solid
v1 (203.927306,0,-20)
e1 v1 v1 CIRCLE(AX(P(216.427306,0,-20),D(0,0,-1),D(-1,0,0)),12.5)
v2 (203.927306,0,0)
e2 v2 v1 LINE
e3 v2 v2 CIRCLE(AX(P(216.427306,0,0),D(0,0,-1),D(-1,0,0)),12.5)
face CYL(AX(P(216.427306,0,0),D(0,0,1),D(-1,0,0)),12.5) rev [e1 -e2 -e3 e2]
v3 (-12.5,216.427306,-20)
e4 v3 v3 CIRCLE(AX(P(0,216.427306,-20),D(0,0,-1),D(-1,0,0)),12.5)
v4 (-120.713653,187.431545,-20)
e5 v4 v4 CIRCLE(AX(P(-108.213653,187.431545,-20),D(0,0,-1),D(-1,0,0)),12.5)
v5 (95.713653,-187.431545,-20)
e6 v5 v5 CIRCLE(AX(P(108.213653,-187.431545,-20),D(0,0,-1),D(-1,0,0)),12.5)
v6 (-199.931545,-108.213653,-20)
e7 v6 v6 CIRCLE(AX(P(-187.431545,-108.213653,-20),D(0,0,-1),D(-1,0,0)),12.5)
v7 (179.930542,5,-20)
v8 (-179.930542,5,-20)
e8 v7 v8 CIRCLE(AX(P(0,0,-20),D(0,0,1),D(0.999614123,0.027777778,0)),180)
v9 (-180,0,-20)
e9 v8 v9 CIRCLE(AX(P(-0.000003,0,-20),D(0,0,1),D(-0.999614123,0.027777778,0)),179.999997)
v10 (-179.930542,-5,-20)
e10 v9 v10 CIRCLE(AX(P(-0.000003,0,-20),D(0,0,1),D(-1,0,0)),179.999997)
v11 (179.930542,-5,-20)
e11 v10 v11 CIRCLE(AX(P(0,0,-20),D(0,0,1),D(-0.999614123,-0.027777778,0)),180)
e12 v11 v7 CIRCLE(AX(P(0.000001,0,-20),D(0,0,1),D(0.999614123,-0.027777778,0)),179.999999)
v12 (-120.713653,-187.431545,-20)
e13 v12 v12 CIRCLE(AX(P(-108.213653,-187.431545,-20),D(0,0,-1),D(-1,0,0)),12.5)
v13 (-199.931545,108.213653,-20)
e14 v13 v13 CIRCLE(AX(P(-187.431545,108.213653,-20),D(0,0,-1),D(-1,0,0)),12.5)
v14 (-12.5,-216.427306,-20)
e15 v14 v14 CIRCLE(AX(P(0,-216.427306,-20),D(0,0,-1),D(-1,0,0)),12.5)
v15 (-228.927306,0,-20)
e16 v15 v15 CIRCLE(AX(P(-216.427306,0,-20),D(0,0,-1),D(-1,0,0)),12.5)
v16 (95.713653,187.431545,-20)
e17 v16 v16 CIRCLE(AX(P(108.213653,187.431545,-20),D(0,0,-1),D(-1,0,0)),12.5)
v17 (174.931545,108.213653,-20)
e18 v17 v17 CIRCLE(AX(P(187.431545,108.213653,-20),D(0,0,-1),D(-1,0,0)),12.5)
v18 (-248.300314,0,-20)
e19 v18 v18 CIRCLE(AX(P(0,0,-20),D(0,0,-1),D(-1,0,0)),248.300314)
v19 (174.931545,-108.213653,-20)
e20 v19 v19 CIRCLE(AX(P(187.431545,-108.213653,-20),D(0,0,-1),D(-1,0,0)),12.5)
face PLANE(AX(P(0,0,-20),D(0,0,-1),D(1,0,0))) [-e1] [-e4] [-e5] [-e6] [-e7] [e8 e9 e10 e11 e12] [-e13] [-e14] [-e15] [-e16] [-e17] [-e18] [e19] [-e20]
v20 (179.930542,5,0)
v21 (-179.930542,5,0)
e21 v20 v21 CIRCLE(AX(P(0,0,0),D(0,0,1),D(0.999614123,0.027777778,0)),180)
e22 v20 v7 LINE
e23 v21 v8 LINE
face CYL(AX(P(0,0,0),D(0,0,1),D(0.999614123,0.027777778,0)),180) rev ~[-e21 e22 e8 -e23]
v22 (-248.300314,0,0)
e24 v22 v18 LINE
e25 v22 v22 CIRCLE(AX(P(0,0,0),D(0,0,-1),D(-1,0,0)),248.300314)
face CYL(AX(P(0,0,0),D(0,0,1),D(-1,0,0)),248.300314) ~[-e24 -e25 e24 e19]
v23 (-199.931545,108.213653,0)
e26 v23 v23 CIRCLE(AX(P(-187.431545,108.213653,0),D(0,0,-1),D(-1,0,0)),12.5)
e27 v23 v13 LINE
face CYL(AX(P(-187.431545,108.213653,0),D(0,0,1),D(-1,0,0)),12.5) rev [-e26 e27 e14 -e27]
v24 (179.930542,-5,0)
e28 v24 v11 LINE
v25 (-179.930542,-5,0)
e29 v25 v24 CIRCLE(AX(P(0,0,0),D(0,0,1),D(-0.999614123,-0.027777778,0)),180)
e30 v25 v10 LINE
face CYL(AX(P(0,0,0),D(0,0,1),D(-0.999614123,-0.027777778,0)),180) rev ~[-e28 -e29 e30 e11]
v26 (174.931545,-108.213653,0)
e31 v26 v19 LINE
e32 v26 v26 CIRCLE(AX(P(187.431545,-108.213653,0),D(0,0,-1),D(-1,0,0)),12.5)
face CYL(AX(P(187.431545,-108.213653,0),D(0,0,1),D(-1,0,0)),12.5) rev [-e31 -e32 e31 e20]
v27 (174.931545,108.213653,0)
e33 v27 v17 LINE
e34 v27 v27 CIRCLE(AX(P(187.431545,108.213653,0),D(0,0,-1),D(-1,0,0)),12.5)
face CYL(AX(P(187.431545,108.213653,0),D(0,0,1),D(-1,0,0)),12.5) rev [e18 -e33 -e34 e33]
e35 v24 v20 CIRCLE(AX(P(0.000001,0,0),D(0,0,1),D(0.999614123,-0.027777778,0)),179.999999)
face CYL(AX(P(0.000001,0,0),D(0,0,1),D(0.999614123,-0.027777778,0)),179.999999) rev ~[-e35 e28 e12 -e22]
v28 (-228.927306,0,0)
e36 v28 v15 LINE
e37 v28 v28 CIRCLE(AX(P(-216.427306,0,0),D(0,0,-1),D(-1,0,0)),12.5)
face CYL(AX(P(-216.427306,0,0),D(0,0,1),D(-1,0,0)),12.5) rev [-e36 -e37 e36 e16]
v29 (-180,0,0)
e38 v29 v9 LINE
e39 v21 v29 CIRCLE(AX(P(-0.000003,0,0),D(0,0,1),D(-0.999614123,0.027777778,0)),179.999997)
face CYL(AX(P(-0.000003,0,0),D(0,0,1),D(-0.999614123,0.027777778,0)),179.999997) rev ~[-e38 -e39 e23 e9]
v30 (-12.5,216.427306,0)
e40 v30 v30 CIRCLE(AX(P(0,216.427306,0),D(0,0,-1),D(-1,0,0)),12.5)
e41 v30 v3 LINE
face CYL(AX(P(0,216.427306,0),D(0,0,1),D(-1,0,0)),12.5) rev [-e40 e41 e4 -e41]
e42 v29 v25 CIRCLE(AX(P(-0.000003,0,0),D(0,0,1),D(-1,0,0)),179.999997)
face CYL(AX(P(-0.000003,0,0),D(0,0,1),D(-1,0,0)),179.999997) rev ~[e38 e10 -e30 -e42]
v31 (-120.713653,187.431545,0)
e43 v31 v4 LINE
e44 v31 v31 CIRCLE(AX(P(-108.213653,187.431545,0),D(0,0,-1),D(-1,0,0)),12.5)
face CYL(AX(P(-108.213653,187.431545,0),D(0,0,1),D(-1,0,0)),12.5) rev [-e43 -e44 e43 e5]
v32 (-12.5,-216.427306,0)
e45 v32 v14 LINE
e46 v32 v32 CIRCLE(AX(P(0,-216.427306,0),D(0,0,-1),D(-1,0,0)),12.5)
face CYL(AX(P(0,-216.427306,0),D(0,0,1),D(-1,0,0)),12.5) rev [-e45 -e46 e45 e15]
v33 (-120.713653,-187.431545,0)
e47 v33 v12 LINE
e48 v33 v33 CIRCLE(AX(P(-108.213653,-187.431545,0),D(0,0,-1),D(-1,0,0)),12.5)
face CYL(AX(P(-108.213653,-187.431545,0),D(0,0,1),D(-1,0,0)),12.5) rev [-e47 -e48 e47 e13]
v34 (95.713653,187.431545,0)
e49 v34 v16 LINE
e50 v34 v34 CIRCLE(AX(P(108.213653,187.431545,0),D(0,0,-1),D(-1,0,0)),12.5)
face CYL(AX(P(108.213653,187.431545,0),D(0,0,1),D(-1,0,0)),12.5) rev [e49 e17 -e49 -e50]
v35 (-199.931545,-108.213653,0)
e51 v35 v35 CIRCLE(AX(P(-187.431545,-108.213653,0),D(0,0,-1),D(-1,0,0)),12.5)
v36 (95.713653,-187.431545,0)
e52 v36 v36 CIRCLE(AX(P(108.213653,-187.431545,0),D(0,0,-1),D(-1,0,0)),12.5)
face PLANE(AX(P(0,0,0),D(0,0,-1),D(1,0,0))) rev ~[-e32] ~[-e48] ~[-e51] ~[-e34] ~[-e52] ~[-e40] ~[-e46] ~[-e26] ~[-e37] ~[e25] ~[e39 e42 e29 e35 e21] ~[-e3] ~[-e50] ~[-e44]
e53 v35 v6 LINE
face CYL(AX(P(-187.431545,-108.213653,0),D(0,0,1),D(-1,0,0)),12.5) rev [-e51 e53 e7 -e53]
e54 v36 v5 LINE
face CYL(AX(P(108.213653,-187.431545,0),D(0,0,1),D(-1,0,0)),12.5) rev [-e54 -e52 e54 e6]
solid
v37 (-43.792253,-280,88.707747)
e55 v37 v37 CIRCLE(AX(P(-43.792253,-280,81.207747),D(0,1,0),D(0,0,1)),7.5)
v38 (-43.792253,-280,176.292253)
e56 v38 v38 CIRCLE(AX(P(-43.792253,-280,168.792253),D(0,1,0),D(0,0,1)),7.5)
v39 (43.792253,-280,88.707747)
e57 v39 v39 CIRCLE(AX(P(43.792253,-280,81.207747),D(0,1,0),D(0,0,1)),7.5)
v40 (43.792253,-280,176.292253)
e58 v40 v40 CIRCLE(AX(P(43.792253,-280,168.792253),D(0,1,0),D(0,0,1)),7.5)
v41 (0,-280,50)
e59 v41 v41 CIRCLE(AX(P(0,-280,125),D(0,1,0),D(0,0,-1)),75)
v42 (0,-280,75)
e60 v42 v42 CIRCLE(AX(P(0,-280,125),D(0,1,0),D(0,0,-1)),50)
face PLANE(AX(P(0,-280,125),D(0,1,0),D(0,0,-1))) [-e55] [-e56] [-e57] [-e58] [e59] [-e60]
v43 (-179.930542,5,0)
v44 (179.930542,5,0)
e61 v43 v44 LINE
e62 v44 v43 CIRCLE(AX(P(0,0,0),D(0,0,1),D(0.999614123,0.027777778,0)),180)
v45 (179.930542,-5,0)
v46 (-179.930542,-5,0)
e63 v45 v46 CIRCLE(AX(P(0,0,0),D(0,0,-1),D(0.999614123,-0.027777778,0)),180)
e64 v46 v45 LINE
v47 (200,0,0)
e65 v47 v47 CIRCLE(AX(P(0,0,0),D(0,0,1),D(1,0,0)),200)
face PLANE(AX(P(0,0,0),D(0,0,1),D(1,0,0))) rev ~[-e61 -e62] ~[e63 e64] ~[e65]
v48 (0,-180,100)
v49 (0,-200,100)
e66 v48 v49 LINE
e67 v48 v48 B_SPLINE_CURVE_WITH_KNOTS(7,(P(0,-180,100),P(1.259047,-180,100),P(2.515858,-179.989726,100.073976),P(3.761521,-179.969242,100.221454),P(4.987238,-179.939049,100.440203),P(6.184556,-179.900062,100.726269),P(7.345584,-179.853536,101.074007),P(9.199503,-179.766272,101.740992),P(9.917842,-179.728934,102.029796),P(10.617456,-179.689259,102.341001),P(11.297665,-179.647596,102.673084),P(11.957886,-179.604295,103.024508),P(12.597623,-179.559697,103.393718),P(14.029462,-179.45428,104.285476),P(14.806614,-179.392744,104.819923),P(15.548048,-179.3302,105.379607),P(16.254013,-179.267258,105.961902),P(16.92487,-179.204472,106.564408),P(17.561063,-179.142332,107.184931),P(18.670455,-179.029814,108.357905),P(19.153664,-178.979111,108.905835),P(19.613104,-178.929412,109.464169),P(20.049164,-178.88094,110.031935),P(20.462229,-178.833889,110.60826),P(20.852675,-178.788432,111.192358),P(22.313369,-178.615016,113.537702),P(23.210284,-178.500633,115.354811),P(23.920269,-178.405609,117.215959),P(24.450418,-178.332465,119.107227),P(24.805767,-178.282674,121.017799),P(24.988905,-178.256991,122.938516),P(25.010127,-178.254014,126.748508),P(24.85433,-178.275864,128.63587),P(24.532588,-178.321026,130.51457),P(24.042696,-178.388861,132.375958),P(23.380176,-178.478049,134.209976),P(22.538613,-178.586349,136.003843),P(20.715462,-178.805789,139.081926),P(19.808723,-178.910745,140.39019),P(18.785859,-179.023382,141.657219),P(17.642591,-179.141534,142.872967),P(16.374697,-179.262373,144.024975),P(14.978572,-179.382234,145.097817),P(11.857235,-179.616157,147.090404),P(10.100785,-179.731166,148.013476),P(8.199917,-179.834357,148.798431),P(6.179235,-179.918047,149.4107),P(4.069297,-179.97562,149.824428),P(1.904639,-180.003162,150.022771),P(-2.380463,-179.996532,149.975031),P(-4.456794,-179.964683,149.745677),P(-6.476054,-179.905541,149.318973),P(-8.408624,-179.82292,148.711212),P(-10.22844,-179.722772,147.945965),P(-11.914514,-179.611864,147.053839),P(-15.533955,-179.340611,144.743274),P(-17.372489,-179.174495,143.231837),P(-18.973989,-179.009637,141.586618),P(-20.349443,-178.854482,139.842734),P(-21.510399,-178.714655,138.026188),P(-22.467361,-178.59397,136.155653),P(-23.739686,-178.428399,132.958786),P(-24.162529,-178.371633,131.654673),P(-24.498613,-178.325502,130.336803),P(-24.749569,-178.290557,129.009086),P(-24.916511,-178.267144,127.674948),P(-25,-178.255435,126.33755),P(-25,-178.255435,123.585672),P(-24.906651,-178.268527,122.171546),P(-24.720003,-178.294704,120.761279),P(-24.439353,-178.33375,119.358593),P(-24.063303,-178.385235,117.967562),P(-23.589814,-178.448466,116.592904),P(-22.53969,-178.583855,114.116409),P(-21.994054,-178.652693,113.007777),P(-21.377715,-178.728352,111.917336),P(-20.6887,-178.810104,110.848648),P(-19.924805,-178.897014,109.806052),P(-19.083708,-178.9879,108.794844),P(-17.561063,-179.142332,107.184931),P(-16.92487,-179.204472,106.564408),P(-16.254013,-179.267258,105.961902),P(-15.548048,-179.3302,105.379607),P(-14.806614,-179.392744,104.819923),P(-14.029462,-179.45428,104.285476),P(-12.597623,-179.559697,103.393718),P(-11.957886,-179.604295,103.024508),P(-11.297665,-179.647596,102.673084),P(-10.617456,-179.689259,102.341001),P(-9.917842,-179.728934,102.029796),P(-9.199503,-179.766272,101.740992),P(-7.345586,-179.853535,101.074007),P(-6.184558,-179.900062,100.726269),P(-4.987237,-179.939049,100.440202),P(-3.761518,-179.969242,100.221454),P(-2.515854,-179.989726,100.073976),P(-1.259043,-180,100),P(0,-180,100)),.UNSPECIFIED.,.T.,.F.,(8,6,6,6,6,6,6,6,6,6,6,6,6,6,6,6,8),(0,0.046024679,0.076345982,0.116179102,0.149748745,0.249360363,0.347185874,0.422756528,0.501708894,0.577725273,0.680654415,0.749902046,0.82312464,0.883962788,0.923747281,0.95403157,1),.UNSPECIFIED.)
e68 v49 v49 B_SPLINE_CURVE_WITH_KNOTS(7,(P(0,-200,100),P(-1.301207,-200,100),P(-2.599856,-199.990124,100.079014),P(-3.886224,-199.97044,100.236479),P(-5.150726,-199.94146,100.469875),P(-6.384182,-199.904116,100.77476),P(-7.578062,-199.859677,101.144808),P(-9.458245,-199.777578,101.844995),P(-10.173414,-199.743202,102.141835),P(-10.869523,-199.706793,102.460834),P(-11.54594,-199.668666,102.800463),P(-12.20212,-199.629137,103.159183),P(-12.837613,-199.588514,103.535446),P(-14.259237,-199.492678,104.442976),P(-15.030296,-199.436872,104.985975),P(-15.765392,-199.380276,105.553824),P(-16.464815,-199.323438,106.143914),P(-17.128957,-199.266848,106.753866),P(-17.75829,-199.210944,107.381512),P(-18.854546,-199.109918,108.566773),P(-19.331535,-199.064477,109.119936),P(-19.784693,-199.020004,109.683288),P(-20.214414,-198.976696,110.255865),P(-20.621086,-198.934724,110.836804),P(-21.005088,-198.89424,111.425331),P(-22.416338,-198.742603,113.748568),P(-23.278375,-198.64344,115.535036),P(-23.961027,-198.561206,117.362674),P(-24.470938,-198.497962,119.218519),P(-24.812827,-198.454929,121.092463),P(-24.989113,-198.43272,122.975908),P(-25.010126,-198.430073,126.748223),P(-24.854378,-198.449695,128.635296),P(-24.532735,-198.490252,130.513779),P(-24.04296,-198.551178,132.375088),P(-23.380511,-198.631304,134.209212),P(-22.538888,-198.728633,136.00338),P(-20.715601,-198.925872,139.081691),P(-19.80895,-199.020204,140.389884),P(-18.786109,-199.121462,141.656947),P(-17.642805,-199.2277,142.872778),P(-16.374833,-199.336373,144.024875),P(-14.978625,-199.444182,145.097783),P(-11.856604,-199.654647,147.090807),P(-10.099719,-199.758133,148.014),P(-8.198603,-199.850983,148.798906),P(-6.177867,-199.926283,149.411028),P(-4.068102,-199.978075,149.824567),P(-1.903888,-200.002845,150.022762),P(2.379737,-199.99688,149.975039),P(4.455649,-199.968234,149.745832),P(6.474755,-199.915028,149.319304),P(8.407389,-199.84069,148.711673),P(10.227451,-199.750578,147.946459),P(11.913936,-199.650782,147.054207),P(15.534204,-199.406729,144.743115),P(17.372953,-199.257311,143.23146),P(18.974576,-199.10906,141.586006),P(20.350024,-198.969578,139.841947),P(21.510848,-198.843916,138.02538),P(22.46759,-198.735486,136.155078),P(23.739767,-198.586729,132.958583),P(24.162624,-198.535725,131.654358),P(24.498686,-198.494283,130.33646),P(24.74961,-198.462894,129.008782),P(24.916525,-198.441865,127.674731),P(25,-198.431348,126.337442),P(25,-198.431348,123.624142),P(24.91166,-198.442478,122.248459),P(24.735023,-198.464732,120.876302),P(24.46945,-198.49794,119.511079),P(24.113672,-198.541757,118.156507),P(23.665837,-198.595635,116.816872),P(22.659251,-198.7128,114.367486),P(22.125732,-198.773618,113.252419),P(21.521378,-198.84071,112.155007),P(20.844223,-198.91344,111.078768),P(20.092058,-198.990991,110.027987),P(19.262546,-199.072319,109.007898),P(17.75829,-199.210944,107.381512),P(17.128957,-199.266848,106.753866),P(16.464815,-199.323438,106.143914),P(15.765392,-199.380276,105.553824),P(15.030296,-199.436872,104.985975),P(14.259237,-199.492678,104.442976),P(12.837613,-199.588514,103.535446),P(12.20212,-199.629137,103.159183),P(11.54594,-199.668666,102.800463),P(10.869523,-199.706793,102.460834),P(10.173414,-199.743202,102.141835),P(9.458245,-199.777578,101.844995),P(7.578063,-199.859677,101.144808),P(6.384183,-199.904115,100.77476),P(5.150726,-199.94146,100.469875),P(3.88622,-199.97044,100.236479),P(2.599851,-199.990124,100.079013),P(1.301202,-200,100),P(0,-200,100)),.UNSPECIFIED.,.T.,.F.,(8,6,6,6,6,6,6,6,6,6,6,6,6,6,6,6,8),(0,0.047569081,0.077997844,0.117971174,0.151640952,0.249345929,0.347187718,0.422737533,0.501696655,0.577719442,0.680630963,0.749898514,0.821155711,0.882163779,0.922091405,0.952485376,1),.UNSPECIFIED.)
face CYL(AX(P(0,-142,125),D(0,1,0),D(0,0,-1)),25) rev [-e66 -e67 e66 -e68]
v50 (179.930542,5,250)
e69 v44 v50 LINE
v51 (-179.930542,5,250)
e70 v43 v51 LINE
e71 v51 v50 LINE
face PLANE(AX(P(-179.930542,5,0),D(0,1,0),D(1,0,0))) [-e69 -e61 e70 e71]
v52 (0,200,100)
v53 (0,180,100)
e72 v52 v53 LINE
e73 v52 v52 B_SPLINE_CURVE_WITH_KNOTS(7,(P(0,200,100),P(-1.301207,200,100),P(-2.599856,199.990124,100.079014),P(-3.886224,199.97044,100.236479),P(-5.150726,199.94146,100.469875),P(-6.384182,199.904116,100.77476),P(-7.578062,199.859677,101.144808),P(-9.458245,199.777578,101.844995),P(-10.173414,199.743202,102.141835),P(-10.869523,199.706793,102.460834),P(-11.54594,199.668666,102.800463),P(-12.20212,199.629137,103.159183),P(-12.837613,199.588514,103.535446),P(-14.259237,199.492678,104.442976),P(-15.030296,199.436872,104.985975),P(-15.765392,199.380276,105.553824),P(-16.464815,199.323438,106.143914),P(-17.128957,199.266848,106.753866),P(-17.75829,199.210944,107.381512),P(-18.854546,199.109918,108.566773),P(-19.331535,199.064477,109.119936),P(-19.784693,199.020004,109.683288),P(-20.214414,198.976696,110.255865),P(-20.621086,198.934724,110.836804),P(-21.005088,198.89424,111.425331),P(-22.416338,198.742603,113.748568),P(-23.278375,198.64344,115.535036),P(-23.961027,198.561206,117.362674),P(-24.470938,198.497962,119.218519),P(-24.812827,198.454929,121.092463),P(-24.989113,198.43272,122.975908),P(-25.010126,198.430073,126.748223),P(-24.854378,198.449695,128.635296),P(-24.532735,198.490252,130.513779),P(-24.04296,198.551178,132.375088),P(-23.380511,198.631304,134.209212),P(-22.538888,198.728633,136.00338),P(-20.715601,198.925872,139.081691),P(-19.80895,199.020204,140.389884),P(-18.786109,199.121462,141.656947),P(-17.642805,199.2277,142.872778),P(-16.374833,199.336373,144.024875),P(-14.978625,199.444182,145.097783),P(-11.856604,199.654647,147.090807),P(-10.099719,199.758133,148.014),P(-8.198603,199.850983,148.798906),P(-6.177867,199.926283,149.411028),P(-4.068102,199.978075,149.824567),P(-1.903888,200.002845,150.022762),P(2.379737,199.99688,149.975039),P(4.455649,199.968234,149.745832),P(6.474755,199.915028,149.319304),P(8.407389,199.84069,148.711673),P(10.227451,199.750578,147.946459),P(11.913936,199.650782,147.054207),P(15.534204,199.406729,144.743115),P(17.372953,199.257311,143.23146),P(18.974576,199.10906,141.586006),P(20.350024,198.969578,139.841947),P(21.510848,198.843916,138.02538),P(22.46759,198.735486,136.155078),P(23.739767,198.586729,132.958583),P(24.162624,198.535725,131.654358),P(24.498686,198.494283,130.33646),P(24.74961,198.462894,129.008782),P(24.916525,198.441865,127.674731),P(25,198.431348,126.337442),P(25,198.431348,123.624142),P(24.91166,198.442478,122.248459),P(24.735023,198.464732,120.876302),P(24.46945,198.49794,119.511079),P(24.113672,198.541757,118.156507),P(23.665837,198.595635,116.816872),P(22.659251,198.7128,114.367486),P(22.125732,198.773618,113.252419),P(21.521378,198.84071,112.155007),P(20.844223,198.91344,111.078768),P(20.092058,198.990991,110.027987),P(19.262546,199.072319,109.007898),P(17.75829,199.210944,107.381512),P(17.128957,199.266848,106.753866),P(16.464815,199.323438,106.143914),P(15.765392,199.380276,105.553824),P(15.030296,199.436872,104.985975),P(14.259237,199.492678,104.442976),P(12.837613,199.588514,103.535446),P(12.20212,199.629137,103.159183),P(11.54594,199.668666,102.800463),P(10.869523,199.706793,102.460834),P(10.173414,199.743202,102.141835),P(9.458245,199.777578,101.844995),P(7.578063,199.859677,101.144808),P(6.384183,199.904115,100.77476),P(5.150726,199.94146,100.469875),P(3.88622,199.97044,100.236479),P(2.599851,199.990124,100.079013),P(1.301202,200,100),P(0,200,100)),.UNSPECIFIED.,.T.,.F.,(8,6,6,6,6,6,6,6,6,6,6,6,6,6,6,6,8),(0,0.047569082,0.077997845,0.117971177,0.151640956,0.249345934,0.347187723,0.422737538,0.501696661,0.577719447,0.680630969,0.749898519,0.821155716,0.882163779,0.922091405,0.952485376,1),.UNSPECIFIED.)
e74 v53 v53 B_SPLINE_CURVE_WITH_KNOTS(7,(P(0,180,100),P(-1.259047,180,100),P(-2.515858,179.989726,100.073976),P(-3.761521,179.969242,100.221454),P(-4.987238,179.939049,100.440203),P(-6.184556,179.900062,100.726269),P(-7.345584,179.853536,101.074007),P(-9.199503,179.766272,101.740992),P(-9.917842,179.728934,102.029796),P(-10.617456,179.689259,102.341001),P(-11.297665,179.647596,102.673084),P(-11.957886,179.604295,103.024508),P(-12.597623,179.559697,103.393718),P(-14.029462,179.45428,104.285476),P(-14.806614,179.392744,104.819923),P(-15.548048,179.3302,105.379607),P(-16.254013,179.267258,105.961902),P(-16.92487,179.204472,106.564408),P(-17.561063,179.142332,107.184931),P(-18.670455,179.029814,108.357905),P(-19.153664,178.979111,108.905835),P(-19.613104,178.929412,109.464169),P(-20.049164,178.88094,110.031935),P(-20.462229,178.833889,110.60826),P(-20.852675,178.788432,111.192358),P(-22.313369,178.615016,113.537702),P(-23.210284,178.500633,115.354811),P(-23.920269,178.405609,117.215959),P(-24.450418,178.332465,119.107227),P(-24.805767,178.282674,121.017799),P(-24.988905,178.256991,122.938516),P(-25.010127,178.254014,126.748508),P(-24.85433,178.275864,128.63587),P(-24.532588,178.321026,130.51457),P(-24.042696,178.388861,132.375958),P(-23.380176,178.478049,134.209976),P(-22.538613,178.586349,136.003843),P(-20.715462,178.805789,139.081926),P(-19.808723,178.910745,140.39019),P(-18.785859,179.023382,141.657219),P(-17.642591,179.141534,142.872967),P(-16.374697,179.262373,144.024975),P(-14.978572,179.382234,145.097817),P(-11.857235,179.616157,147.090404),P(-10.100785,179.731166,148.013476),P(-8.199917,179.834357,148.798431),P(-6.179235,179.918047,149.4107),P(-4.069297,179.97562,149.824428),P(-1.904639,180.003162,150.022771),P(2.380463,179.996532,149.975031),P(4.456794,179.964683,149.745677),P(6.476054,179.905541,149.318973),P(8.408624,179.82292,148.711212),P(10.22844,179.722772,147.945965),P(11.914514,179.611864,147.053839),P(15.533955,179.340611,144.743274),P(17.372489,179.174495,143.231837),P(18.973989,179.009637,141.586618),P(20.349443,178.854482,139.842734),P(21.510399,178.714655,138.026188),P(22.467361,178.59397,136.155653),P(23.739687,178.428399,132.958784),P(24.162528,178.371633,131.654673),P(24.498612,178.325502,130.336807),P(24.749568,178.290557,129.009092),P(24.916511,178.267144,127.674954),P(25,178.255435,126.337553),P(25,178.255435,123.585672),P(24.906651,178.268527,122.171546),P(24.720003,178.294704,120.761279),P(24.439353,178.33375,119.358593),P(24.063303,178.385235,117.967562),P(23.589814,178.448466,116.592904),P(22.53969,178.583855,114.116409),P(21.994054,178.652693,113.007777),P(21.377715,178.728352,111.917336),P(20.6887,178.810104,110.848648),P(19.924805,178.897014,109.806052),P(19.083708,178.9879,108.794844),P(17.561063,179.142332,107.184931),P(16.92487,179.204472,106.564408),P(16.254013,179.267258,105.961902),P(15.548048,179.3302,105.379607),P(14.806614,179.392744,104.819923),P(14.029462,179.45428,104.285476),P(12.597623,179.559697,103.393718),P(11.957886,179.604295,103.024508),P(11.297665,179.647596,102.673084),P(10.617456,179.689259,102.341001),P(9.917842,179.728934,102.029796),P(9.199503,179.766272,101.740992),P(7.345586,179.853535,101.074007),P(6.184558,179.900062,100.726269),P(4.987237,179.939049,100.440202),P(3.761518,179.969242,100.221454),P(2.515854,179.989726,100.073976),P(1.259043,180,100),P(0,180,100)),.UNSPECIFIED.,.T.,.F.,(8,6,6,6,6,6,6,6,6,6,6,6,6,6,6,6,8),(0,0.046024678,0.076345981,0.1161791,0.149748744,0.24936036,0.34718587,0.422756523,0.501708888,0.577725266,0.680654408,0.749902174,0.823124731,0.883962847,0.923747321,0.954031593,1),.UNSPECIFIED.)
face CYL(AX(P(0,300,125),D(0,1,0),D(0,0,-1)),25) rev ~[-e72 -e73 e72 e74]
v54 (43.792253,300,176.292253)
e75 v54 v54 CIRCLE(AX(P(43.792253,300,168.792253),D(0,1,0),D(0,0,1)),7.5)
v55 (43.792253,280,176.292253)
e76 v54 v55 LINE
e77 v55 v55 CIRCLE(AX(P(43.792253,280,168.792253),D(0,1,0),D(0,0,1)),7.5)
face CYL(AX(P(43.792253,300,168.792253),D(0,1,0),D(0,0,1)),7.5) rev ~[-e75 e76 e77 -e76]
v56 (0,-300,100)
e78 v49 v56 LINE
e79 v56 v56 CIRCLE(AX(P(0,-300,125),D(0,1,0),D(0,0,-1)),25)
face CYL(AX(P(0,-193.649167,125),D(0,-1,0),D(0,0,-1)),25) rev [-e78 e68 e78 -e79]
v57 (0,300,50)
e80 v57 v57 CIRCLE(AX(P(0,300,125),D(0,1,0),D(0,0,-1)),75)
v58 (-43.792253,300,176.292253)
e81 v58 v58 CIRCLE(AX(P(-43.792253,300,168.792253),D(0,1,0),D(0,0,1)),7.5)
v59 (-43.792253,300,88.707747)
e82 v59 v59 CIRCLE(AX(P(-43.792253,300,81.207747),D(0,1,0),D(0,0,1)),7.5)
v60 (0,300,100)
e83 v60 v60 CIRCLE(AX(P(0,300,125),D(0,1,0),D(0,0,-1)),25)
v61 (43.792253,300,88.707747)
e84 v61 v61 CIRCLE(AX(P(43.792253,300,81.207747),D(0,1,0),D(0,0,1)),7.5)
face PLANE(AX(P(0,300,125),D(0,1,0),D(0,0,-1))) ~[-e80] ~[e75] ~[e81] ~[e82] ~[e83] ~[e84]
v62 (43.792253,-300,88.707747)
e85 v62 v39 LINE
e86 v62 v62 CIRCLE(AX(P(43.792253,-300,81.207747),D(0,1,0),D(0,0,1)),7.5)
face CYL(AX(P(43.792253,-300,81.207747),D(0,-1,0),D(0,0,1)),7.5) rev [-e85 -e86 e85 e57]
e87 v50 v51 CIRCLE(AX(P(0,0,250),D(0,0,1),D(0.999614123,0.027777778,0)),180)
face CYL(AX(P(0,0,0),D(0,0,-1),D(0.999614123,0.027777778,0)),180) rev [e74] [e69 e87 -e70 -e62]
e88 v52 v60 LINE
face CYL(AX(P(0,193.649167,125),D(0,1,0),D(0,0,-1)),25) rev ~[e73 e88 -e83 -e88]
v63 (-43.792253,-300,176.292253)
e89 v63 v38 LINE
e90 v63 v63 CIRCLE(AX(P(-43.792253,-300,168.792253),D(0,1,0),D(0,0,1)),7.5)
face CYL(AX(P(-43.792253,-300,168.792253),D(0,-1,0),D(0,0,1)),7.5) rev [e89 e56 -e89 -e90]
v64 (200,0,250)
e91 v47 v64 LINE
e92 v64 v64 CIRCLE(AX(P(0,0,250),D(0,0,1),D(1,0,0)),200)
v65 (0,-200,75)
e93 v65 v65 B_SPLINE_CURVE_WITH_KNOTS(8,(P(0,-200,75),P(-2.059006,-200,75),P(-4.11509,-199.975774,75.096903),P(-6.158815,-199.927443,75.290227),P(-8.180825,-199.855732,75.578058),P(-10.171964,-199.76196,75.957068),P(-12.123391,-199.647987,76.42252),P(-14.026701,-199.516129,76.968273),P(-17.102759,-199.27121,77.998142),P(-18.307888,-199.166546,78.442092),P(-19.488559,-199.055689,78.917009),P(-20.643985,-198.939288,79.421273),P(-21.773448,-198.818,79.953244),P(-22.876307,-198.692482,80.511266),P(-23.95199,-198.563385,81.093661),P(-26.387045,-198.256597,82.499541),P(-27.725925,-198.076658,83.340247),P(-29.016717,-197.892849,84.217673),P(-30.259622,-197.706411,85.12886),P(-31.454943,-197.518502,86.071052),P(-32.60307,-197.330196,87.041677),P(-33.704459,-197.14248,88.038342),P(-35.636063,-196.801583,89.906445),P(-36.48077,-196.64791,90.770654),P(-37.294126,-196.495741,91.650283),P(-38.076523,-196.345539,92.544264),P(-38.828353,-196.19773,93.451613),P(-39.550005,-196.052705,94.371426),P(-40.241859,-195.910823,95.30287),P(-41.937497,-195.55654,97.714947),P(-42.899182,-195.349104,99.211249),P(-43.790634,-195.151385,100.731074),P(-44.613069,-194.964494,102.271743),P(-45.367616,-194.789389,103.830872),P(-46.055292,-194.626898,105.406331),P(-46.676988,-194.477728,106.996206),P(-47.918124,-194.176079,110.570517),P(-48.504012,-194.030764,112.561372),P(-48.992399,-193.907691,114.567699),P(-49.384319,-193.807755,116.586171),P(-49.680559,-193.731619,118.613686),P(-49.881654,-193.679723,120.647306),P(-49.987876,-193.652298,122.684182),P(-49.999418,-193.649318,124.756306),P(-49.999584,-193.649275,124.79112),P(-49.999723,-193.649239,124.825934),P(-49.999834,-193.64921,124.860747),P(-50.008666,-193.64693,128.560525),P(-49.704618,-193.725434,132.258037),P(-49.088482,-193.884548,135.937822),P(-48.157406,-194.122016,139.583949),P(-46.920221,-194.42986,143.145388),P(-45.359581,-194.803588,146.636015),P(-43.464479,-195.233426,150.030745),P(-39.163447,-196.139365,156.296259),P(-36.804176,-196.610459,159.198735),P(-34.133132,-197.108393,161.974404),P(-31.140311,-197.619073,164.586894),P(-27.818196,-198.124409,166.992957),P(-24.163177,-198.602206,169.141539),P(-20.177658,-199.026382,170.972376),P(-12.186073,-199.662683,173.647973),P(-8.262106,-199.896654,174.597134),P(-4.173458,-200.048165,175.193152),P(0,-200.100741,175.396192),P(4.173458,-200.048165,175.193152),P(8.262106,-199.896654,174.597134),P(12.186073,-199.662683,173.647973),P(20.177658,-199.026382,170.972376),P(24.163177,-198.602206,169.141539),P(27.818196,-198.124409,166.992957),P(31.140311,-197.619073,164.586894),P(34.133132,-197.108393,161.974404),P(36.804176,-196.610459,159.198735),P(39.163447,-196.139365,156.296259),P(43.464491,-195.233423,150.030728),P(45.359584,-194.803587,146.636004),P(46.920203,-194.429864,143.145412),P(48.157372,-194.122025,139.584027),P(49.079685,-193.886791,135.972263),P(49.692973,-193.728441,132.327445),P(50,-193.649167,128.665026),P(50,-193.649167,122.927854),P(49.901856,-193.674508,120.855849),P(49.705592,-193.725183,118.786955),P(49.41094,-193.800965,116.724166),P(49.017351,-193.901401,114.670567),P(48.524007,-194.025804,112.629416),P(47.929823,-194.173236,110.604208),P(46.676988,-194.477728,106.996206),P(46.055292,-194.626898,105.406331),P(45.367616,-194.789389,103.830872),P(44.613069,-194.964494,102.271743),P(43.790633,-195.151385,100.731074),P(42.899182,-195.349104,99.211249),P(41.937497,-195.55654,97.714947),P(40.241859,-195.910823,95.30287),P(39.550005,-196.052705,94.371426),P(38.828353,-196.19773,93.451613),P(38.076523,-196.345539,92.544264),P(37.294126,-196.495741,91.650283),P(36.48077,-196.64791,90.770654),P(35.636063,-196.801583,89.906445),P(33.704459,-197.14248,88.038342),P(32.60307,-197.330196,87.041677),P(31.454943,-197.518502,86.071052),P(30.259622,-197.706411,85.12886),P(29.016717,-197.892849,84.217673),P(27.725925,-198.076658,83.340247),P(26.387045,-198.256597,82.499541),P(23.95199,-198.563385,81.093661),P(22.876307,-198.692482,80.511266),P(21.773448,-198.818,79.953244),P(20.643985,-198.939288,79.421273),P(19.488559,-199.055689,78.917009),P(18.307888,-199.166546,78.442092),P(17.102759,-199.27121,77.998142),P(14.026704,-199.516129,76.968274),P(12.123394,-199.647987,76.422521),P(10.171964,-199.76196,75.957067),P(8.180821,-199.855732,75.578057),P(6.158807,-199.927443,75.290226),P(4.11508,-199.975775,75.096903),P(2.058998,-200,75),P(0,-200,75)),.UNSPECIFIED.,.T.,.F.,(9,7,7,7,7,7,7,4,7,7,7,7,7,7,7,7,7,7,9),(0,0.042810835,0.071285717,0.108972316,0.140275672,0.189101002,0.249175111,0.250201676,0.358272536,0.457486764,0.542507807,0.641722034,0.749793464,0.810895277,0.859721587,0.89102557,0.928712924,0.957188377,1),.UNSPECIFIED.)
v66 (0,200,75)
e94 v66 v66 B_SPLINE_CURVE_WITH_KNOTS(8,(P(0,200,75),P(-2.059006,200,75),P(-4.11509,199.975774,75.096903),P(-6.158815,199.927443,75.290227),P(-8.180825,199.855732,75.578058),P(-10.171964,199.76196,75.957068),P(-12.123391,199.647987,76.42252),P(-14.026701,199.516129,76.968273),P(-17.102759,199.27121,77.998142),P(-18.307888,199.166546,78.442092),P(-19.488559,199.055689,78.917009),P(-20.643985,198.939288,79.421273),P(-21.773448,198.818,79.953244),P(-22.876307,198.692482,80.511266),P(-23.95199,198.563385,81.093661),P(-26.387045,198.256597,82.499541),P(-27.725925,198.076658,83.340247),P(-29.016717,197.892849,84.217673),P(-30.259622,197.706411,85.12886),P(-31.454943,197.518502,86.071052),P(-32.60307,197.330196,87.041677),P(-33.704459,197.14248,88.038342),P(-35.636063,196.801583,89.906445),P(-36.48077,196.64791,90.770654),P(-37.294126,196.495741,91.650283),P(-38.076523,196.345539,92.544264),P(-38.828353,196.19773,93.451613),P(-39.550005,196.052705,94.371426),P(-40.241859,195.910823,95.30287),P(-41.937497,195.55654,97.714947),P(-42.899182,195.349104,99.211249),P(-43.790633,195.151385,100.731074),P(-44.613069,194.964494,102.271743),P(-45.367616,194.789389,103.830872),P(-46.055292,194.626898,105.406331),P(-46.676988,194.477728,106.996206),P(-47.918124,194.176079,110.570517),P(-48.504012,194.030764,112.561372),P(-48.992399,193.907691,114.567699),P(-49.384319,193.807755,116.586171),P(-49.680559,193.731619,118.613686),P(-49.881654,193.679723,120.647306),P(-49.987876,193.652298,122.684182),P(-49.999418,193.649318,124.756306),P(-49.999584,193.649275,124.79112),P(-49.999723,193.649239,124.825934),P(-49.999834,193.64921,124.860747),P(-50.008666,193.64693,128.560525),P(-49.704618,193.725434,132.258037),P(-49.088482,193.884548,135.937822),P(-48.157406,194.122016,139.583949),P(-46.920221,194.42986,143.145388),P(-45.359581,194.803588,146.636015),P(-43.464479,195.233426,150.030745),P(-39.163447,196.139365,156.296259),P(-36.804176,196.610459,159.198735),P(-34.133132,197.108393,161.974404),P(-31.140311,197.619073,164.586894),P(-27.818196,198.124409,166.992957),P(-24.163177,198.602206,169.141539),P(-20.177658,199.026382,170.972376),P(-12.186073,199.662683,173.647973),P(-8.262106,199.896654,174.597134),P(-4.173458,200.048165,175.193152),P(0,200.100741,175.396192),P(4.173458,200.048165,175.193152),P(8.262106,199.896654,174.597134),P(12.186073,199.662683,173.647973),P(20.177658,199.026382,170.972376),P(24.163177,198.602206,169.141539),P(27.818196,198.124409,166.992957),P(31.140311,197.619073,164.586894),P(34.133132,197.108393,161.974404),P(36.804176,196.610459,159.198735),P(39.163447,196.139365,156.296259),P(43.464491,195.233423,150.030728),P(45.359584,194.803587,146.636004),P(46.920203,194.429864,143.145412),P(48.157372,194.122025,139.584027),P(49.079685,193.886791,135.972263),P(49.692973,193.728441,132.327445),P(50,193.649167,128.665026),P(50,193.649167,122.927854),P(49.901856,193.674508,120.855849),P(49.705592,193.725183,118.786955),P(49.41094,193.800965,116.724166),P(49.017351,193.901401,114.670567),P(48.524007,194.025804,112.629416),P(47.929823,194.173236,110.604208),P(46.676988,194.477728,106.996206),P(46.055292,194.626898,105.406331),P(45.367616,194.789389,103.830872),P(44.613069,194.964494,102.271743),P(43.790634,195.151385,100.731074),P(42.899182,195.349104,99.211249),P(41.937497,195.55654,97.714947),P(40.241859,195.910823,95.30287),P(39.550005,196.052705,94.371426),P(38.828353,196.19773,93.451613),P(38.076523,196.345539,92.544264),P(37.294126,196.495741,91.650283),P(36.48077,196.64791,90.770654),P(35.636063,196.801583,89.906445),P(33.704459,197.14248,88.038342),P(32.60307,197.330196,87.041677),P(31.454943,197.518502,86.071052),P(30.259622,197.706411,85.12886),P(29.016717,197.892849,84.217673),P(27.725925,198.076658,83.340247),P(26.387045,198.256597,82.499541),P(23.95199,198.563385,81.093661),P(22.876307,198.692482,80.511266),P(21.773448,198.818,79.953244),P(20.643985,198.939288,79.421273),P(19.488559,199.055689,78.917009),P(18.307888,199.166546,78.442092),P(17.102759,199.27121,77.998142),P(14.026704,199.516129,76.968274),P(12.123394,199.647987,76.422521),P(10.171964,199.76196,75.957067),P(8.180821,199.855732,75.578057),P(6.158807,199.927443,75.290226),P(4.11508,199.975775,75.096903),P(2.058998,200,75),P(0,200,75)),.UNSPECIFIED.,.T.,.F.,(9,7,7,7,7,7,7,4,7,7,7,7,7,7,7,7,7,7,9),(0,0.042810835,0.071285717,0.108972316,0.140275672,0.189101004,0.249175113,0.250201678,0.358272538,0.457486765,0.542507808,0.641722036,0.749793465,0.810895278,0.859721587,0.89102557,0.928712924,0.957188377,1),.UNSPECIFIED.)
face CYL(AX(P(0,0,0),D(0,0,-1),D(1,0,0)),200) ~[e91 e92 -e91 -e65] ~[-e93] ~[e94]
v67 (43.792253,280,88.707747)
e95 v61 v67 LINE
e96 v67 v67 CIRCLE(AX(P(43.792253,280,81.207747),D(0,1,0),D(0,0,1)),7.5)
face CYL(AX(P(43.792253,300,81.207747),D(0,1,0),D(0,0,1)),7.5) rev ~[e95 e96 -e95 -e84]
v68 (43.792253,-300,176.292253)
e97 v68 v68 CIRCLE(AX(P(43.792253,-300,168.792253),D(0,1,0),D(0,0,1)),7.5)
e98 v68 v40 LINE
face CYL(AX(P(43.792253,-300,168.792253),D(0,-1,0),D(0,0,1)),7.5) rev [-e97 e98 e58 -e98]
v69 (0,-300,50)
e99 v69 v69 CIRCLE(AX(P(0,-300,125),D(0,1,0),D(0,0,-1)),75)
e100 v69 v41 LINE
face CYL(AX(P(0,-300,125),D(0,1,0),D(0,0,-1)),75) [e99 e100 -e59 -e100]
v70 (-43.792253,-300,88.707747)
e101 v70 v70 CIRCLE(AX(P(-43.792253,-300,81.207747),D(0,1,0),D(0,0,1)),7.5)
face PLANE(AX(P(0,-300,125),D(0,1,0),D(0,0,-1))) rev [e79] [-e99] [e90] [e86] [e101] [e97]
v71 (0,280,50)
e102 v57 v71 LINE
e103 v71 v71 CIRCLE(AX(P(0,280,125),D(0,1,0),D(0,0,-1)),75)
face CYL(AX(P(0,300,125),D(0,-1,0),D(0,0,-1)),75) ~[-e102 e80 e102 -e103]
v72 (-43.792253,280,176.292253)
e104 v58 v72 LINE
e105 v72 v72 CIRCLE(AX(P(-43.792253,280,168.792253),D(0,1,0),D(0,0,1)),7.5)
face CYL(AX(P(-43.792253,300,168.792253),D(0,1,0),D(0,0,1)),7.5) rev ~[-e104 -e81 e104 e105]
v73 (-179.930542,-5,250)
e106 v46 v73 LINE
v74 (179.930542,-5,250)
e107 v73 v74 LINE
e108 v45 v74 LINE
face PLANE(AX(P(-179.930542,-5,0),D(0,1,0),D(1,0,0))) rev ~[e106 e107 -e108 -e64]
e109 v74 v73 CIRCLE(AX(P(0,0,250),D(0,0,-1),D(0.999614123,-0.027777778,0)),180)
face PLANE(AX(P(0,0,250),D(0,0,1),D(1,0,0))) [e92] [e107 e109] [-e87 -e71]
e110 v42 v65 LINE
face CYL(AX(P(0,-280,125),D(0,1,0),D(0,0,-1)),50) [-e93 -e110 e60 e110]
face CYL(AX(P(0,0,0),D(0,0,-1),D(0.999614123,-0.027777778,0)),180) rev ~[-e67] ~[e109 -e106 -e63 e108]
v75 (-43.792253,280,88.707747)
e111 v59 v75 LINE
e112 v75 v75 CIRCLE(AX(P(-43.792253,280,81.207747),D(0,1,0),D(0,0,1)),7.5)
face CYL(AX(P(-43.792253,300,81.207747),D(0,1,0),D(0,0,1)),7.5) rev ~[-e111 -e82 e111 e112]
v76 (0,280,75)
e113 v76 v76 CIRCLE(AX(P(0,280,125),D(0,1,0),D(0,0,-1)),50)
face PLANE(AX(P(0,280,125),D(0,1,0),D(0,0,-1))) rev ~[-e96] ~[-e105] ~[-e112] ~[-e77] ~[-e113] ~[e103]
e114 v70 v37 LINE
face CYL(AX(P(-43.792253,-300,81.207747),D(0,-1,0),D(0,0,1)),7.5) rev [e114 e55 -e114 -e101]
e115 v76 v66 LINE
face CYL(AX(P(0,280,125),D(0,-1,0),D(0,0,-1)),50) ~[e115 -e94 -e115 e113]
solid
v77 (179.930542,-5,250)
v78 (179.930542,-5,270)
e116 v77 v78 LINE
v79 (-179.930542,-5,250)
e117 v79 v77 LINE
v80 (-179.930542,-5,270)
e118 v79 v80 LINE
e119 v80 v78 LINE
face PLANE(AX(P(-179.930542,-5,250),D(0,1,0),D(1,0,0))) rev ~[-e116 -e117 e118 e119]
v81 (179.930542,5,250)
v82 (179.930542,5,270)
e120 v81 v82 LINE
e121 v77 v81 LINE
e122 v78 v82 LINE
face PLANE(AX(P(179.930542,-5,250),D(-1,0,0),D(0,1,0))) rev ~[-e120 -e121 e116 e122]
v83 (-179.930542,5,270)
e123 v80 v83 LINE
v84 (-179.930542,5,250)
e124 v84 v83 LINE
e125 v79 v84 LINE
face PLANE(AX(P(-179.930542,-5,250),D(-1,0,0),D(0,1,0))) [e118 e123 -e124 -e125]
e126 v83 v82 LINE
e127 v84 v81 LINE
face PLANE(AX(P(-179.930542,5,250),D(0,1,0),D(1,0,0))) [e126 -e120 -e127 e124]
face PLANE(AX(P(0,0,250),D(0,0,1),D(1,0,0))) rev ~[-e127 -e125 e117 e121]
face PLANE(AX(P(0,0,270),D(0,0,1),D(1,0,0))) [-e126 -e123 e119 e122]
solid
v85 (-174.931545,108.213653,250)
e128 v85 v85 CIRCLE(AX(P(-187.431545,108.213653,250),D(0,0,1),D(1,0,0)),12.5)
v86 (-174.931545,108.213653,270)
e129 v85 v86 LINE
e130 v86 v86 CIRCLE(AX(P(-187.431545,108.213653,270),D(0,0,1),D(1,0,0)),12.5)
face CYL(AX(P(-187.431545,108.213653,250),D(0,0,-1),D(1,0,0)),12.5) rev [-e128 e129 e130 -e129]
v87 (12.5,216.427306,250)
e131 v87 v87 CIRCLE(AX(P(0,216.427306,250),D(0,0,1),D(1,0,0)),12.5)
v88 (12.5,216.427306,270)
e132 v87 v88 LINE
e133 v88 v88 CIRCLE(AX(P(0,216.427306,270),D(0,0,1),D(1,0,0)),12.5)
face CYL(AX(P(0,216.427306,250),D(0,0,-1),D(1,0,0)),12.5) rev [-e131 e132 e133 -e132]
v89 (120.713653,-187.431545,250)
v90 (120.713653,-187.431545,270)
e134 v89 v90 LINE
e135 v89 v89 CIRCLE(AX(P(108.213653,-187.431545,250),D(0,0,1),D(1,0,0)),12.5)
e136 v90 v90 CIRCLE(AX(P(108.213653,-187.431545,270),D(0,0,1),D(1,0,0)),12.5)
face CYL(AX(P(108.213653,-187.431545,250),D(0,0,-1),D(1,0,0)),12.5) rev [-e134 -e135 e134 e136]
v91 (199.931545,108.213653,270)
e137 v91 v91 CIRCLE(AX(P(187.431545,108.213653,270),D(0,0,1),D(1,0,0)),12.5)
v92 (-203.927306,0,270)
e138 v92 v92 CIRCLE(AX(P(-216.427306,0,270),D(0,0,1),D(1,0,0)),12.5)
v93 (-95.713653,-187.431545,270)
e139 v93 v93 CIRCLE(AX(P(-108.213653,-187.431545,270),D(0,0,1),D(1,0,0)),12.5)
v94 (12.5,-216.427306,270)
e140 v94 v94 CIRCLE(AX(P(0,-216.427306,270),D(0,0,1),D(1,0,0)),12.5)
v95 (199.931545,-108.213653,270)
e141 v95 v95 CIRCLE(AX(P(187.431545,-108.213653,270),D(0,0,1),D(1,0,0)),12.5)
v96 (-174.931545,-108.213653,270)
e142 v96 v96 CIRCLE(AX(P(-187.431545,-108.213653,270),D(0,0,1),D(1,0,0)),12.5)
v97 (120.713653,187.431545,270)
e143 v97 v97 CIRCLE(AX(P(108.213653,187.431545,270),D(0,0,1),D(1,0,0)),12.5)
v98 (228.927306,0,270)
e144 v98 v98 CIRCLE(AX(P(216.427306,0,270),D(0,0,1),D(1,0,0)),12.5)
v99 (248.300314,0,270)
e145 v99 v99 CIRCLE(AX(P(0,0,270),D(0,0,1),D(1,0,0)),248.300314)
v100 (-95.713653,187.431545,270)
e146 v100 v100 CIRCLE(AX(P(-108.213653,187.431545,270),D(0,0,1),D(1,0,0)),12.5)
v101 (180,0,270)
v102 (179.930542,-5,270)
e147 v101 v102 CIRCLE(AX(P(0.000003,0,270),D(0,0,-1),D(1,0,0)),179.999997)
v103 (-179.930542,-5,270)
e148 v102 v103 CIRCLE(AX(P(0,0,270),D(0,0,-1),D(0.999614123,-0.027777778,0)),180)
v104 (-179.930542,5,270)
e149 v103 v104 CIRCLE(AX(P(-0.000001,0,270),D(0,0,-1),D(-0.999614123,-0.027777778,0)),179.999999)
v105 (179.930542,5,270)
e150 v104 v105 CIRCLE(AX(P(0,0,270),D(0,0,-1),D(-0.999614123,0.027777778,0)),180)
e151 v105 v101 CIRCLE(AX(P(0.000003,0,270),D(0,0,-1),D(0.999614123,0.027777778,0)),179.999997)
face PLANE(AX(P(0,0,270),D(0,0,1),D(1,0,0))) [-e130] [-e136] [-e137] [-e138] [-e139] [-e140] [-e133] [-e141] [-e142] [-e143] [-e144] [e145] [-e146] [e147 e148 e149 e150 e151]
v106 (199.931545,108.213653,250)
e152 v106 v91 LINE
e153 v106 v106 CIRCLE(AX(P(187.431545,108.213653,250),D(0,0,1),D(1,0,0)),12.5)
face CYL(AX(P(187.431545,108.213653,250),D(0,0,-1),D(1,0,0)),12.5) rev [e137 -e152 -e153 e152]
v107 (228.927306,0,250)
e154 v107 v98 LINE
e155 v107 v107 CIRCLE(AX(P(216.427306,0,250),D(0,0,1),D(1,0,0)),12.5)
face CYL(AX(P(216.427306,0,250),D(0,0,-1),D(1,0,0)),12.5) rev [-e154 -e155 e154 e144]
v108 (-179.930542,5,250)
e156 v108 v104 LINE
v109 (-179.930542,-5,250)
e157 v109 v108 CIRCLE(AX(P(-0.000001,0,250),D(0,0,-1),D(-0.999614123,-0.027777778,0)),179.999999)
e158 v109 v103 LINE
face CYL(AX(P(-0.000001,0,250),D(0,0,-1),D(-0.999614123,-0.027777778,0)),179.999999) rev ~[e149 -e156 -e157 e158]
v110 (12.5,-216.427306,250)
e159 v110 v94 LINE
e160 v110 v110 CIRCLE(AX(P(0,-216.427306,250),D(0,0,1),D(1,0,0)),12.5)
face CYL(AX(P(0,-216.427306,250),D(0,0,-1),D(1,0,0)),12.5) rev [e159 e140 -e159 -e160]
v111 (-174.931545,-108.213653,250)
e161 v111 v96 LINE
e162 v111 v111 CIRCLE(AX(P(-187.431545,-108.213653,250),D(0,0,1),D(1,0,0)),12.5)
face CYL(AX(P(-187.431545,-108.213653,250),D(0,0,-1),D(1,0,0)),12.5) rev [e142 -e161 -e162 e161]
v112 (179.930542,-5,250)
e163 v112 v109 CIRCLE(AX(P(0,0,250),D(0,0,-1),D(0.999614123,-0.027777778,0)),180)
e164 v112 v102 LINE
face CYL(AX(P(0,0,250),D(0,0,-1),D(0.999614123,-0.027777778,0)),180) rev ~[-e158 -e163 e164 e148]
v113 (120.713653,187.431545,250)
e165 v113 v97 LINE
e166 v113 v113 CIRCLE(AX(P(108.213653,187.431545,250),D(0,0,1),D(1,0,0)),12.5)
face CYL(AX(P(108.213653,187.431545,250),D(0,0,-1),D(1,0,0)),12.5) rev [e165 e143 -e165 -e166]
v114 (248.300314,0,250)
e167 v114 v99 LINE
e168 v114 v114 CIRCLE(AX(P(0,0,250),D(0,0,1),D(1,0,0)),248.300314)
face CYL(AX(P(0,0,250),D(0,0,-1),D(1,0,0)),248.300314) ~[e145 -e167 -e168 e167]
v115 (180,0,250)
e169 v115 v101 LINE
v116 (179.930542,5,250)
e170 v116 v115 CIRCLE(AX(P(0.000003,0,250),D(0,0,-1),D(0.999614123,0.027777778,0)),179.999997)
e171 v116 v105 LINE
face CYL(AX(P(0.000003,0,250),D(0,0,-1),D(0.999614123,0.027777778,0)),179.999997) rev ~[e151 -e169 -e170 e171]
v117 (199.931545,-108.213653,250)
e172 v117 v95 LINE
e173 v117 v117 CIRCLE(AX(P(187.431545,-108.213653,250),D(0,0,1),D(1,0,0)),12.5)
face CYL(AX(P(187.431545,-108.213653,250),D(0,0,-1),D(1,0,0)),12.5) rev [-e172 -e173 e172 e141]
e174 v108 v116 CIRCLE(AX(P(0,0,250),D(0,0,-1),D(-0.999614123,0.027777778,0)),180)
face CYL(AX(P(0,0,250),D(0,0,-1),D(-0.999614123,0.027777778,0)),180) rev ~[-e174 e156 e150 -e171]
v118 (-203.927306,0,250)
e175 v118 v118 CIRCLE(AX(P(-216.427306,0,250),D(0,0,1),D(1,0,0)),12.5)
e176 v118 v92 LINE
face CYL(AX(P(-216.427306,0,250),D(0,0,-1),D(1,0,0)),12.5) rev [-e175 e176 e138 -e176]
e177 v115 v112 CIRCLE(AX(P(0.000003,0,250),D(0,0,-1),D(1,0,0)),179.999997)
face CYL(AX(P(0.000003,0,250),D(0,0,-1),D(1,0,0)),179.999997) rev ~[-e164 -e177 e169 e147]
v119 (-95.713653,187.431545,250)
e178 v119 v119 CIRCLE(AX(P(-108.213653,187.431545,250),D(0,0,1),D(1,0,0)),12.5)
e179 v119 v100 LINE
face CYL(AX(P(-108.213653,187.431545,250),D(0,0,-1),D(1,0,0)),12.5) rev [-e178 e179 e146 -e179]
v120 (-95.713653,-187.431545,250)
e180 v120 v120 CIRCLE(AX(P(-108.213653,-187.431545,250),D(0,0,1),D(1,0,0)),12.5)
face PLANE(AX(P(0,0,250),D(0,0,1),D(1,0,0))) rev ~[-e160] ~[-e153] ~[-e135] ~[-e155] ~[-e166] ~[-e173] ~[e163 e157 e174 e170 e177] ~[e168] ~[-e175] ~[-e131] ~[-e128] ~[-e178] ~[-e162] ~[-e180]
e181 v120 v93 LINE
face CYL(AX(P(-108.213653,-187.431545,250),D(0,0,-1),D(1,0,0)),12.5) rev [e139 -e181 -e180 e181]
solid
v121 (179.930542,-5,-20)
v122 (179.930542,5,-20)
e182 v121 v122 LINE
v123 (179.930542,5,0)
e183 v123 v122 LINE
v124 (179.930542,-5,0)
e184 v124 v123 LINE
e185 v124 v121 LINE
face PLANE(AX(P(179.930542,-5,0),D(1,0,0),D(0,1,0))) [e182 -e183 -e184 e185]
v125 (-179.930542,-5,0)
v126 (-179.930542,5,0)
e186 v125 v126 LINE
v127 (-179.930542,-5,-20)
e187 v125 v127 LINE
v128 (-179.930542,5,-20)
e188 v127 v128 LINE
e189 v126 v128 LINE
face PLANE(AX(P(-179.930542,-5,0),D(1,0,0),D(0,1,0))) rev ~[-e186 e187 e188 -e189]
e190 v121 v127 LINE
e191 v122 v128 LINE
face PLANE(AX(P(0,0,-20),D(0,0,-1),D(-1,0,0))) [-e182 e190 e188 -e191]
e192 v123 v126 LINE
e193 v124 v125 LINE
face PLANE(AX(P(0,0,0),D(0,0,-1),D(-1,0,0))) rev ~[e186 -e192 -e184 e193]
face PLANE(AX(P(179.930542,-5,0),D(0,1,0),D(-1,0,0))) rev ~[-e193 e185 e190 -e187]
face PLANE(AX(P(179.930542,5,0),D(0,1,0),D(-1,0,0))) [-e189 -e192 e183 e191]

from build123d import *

# Parameters (mm, degrees)
SKETCH1_R           = 200
BOSS_EXTRUDE1_DEPTH = 250
SKETCH4_R           = 7.5
CUT_EXTRUDE1_DEPTH  = 20
SKETCH5_R           = 25
CUT_EXTRUDE2_DEPTH  = 158
CUT_EXTRUDE3_START  = -158
SKETCH6_R           = 25
CUT_EXTRUDE3_DEPTH  = 158
SKETCH7_R           = 248.300313653
SKETCH7_R_2         = 12.5
SKETCH7_R_3         = 200
SKETCH7_W           = 359.861084308
SKETCH7_H           = 10
BOSS_EXTRUDE5_DEPTH = 20
SKETCH8_R           = 248.300313653
SKETCH8_R_2         = 12.5
SKETCH8_R_3         = 200
SKETCH8_W           = 359.861084308
SKETCH8_H           = 10
BOSS_EXTRUDE7_DEPTH = 20


with BuildPart() as part:
    # Sketch1 → Boss-Extrude1 (new body)
    with BuildSketch(Plane.XY):
        Circle(SKETCH1_R)
        with BuildLine():
            Line((-179.930542154, 5), (179.930542154, 5))
            ThreePointArc((179.930542154, 5), (0, 180), (-179.930542154, 5))
        make_face(mode=Mode.SUBTRACT)
        with BuildLine():
            Line((-179.930542154, -5), (179.930542154, -5))
            ThreePointArc((179.930542154, -5), (0, -180), (-179.930542154, -5))
        make_face(mode=Mode.SUBTRACT)
    extrude(amount=BOSS_EXTRUDE1_DEPTH)

    # Sketch3 → Revolve2 (revolve)
    with BuildSketch(Plane.XY.offset(125), mode=Mode.PRIVATE) as revolve2_sk:
        Polygon((-25, 193.64916731), (-25, 300), (-75, 300), (-75, 280), (-50, 280), (-50, 193.64916731), align=None)
        Polygon((-50, -280), (-50, -193.64916731), (-25, -193.64916731), (-25, -300), (-75, -300), (-75, -280), align=None)
    revolve(revolve2_sk.sketch.rotate(Axis((0, 0, 125), (0, 1, 0)), 270), axis=Axis((0, 0, 125), (0, 1, 0)))

    # Sketch4 → Cut-Extrude1 (cut)
    with BuildSketch(Plane(origin=(0, 300, 0), x_dir=(1, 0, 0), z_dir=(0, 1, 0))):
        with Locations(Location((-43.792253438, -81.207746562, 0), (0, 0, 270))):
            Circle(SKETCH4_R)
        with Locations(Location((43.792253438, -81.207746562, 0), (0, 0, 270))):
            Circle(SKETCH4_R)
        with Locations(Location((43.792253438, -168.792253438, 0), (0, 0, 270))):
            Circle(SKETCH4_R)
        with Locations(Location((-43.792253438, -168.792253438, 0), (0, 0, 270))):
            Circle(SKETCH4_R)
    cut_extrude1 = extrude(amount=-CUT_EXTRUDE1_DEPTH, mode=Mode.SUBTRACT)

    # Mirror1: Cut-Extrude1 across plane
    add(cut_extrude1.mirror(Plane.ZX), mode=Mode.SUBTRACT)

    # Sketch5 → Cut-Extrude2 (cut)
    with BuildSketch(Plane(origin=(0, 300, 0), x_dir=(1, 0, 0), z_dir=(0, 1, 0))):
        with Locations(Location((0, -125, 0), (0, 0, 90))):
            Circle(SKETCH5_R)
    extrude(amount=-CUT_EXTRUDE2_DEPTH, mode=Mode.SUBTRACT)

    # Sketch6 → Cut-Extrude3 (cut)
    with BuildSketch(Plane.XZ.offset(300).offset(CUT_EXTRUDE3_START)):
        with Locations(Location((0, 125, 0), (0, 0, 270))):
            Circle(SKETCH6_R)
    extrude(amount=CUT_EXTRUDE3_DEPTH, mode=Mode.SUBTRACT)


with BuildPart() as body_2:
    # Sketch7 → Boss-Extrude5 (new body)
    # profile 1 of 3: a face of its own
    with BuildSketch(Plane.XY.offset(250)):
        Circle(SKETCH7_R)
        with Locations((-108.213652849, 187.431544807)):
            Circle(SKETCH7_R_2, mode=Mode.SUBTRACT)
        with Locations((-187.431544807, 108.213652849)):
            Circle(SKETCH7_R_2, mode=Mode.SUBTRACT)
        with Locations((-216.427305698, 0)):
            Circle(SKETCH7_R_2, mode=Mode.SUBTRACT)
        with Locations((-187.431544807, -108.213652849)):
            Circle(SKETCH7_R_2, mode=Mode.SUBTRACT)
        with Locations((-108.213652849, -187.431544807)):
            Circle(SKETCH7_R_2, mode=Mode.SUBTRACT)
        with Locations((0, -216.427305698)):
            Circle(SKETCH7_R_2, mode=Mode.SUBTRACT)
        with Locations((108.213652849, -187.431544807)):
            Circle(SKETCH7_R_2, mode=Mode.SUBTRACT)
        with Locations((187.431544807, -108.213652849)):
            Circle(SKETCH7_R_2, mode=Mode.SUBTRACT)
        with Locations((216.427305698, 0)):
            Circle(SKETCH7_R_2, mode=Mode.SUBTRACT)
        with Locations((187.431544807, 108.213652849)):
            Circle(SKETCH7_R_2, mode=Mode.SUBTRACT)
        with Locations((108.213652849, 187.431544807)):
            Circle(SKETCH7_R_2, mode=Mode.SUBTRACT)
        with Locations((0, 216.427305698)):
            Circle(SKETCH7_R_2, mode=Mode.SUBTRACT)
        Circle(SKETCH7_R_3, mode=Mode.SUBTRACT)
    # profile 2 of 3: a face of its own
    with BuildSketch(Plane.XY.offset(250)):
        Circle(SKETCH7_R_3)
        with BuildLine():
            ThreePointArc((179.930542154, -5), (0, -180), (-179.930542154, -5))
            ThreePointArc((-179.930542154, -5), (-180, 0), (-179.930542154, 5))
            ThreePointArc((-179.930542154, 5), (0, 180), (179.930542154, 5))
            ThreePointArc((179.930542154, 5), (179.982634701, 2.500241208), (180, 0))
            ThreePointArc((180, 0), (179.982634701, -2.500241208), (179.930542154, -5))
        make_face(mode=Mode.SUBTRACT)
    # profile 3 of 3: a face of its own
    with BuildSketch(Plane.XY.offset(250)):
        Rectangle(SKETCH7_W, SKETCH7_H)
    extrude(amount=BOSS_EXTRUDE5_DEPTH)


with BuildPart() as body_3:
    # Sketch8 → Boss-Extrude7 (new body)
    # profile 1 of 3: a face of its own
    with BuildSketch(Plane(origin=(0, 0, 0), x_dir=(-1, 0, 0), z_dir=(0, 0, -1))):
        Circle(SKETCH8_R)
        with Locations((-187.431544807, -108.213652849)):
            Circle(SKETCH8_R_2, mode=Mode.SUBTRACT)
        with Locations((-108.213652849, -187.431544807)):
            Circle(SKETCH8_R_2, mode=Mode.SUBTRACT)
        with Locations((0, -216.427305698)):
            Circle(SKETCH8_R_2, mode=Mode.SUBTRACT)
        with Locations((108.213652849, -187.431544807)):
            Circle(SKETCH8_R_2, mode=Mode.SUBTRACT)
        with Locations((187.431544807, -108.213652849)):
            Circle(SKETCH8_R_2, mode=Mode.SUBTRACT)
        with Locations((216.427305698, 0)):
            Circle(SKETCH8_R_2, mode=Mode.SUBTRACT)
        with Locations((187.431544807, 108.213652849)):
            Circle(SKETCH8_R_2, mode=Mode.SUBTRACT)
        with Locations((108.213652849, 187.431544807)):
            Circle(SKETCH8_R_2, mode=Mode.SUBTRACT)
        with Locations((0, 216.427305698)):
            Circle(SKETCH8_R_2, mode=Mode.SUBTRACT)
        with Locations((-108.213652849, 187.431544807)):
            Circle(SKETCH8_R_2, mode=Mode.SUBTRACT)
        with Locations((-187.431544807, 108.213652849)):
            Circle(SKETCH8_R_2, mode=Mode.SUBTRACT)
        with Locations((-216.427305698, 0)):
            Circle(SKETCH8_R_2, mode=Mode.SUBTRACT)
        with Locations(Location((0, 0, 0), (0, 0, 180))):
            Circle(SKETCH8_R_3, mode=Mode.SUBTRACT)
    # profile 2 of 3: a face of its own
    with BuildSketch(Plane(origin=(0, 0, 0), x_dir=(-1, 0, 0), z_dir=(0, 0, -1))):
        with Locations(Location((0, 0, 0), (0, 0, 180))):
            Circle(SKETCH8_R_3)
        with BuildLine():
            ThreePointArc((179.930542154, -5), (0, -180), (-179.930542154, -5))
            ThreePointArc((-179.930542154, -5), (-180, 0), (-179.930542154, 5))
            ThreePointArc((-179.930542154, 5), (0, 180), (179.930542154, 5))
            ThreePointArc((179.930542154, 5), (179.982634701, 2.500241208), (180, 0))
            ThreePointArc((180, 0), (179.982634701, -2.500241208), (179.930542154, -5))
        make_face(mode=Mode.SUBTRACT)
    # profile 3 of 3: a face of its own
    with BuildSketch(Plane(origin=(0, 0, 0), x_dir=(-1, 0, 0), z_dir=(0, 0, -1))):
        Rectangle(SKETCH8_W, SKETCH8_H)
    extrude(amount=BOSS_EXTRUDE7_DEPTH)


solid = Compound([part.part, body_2.part, body_3.part])
